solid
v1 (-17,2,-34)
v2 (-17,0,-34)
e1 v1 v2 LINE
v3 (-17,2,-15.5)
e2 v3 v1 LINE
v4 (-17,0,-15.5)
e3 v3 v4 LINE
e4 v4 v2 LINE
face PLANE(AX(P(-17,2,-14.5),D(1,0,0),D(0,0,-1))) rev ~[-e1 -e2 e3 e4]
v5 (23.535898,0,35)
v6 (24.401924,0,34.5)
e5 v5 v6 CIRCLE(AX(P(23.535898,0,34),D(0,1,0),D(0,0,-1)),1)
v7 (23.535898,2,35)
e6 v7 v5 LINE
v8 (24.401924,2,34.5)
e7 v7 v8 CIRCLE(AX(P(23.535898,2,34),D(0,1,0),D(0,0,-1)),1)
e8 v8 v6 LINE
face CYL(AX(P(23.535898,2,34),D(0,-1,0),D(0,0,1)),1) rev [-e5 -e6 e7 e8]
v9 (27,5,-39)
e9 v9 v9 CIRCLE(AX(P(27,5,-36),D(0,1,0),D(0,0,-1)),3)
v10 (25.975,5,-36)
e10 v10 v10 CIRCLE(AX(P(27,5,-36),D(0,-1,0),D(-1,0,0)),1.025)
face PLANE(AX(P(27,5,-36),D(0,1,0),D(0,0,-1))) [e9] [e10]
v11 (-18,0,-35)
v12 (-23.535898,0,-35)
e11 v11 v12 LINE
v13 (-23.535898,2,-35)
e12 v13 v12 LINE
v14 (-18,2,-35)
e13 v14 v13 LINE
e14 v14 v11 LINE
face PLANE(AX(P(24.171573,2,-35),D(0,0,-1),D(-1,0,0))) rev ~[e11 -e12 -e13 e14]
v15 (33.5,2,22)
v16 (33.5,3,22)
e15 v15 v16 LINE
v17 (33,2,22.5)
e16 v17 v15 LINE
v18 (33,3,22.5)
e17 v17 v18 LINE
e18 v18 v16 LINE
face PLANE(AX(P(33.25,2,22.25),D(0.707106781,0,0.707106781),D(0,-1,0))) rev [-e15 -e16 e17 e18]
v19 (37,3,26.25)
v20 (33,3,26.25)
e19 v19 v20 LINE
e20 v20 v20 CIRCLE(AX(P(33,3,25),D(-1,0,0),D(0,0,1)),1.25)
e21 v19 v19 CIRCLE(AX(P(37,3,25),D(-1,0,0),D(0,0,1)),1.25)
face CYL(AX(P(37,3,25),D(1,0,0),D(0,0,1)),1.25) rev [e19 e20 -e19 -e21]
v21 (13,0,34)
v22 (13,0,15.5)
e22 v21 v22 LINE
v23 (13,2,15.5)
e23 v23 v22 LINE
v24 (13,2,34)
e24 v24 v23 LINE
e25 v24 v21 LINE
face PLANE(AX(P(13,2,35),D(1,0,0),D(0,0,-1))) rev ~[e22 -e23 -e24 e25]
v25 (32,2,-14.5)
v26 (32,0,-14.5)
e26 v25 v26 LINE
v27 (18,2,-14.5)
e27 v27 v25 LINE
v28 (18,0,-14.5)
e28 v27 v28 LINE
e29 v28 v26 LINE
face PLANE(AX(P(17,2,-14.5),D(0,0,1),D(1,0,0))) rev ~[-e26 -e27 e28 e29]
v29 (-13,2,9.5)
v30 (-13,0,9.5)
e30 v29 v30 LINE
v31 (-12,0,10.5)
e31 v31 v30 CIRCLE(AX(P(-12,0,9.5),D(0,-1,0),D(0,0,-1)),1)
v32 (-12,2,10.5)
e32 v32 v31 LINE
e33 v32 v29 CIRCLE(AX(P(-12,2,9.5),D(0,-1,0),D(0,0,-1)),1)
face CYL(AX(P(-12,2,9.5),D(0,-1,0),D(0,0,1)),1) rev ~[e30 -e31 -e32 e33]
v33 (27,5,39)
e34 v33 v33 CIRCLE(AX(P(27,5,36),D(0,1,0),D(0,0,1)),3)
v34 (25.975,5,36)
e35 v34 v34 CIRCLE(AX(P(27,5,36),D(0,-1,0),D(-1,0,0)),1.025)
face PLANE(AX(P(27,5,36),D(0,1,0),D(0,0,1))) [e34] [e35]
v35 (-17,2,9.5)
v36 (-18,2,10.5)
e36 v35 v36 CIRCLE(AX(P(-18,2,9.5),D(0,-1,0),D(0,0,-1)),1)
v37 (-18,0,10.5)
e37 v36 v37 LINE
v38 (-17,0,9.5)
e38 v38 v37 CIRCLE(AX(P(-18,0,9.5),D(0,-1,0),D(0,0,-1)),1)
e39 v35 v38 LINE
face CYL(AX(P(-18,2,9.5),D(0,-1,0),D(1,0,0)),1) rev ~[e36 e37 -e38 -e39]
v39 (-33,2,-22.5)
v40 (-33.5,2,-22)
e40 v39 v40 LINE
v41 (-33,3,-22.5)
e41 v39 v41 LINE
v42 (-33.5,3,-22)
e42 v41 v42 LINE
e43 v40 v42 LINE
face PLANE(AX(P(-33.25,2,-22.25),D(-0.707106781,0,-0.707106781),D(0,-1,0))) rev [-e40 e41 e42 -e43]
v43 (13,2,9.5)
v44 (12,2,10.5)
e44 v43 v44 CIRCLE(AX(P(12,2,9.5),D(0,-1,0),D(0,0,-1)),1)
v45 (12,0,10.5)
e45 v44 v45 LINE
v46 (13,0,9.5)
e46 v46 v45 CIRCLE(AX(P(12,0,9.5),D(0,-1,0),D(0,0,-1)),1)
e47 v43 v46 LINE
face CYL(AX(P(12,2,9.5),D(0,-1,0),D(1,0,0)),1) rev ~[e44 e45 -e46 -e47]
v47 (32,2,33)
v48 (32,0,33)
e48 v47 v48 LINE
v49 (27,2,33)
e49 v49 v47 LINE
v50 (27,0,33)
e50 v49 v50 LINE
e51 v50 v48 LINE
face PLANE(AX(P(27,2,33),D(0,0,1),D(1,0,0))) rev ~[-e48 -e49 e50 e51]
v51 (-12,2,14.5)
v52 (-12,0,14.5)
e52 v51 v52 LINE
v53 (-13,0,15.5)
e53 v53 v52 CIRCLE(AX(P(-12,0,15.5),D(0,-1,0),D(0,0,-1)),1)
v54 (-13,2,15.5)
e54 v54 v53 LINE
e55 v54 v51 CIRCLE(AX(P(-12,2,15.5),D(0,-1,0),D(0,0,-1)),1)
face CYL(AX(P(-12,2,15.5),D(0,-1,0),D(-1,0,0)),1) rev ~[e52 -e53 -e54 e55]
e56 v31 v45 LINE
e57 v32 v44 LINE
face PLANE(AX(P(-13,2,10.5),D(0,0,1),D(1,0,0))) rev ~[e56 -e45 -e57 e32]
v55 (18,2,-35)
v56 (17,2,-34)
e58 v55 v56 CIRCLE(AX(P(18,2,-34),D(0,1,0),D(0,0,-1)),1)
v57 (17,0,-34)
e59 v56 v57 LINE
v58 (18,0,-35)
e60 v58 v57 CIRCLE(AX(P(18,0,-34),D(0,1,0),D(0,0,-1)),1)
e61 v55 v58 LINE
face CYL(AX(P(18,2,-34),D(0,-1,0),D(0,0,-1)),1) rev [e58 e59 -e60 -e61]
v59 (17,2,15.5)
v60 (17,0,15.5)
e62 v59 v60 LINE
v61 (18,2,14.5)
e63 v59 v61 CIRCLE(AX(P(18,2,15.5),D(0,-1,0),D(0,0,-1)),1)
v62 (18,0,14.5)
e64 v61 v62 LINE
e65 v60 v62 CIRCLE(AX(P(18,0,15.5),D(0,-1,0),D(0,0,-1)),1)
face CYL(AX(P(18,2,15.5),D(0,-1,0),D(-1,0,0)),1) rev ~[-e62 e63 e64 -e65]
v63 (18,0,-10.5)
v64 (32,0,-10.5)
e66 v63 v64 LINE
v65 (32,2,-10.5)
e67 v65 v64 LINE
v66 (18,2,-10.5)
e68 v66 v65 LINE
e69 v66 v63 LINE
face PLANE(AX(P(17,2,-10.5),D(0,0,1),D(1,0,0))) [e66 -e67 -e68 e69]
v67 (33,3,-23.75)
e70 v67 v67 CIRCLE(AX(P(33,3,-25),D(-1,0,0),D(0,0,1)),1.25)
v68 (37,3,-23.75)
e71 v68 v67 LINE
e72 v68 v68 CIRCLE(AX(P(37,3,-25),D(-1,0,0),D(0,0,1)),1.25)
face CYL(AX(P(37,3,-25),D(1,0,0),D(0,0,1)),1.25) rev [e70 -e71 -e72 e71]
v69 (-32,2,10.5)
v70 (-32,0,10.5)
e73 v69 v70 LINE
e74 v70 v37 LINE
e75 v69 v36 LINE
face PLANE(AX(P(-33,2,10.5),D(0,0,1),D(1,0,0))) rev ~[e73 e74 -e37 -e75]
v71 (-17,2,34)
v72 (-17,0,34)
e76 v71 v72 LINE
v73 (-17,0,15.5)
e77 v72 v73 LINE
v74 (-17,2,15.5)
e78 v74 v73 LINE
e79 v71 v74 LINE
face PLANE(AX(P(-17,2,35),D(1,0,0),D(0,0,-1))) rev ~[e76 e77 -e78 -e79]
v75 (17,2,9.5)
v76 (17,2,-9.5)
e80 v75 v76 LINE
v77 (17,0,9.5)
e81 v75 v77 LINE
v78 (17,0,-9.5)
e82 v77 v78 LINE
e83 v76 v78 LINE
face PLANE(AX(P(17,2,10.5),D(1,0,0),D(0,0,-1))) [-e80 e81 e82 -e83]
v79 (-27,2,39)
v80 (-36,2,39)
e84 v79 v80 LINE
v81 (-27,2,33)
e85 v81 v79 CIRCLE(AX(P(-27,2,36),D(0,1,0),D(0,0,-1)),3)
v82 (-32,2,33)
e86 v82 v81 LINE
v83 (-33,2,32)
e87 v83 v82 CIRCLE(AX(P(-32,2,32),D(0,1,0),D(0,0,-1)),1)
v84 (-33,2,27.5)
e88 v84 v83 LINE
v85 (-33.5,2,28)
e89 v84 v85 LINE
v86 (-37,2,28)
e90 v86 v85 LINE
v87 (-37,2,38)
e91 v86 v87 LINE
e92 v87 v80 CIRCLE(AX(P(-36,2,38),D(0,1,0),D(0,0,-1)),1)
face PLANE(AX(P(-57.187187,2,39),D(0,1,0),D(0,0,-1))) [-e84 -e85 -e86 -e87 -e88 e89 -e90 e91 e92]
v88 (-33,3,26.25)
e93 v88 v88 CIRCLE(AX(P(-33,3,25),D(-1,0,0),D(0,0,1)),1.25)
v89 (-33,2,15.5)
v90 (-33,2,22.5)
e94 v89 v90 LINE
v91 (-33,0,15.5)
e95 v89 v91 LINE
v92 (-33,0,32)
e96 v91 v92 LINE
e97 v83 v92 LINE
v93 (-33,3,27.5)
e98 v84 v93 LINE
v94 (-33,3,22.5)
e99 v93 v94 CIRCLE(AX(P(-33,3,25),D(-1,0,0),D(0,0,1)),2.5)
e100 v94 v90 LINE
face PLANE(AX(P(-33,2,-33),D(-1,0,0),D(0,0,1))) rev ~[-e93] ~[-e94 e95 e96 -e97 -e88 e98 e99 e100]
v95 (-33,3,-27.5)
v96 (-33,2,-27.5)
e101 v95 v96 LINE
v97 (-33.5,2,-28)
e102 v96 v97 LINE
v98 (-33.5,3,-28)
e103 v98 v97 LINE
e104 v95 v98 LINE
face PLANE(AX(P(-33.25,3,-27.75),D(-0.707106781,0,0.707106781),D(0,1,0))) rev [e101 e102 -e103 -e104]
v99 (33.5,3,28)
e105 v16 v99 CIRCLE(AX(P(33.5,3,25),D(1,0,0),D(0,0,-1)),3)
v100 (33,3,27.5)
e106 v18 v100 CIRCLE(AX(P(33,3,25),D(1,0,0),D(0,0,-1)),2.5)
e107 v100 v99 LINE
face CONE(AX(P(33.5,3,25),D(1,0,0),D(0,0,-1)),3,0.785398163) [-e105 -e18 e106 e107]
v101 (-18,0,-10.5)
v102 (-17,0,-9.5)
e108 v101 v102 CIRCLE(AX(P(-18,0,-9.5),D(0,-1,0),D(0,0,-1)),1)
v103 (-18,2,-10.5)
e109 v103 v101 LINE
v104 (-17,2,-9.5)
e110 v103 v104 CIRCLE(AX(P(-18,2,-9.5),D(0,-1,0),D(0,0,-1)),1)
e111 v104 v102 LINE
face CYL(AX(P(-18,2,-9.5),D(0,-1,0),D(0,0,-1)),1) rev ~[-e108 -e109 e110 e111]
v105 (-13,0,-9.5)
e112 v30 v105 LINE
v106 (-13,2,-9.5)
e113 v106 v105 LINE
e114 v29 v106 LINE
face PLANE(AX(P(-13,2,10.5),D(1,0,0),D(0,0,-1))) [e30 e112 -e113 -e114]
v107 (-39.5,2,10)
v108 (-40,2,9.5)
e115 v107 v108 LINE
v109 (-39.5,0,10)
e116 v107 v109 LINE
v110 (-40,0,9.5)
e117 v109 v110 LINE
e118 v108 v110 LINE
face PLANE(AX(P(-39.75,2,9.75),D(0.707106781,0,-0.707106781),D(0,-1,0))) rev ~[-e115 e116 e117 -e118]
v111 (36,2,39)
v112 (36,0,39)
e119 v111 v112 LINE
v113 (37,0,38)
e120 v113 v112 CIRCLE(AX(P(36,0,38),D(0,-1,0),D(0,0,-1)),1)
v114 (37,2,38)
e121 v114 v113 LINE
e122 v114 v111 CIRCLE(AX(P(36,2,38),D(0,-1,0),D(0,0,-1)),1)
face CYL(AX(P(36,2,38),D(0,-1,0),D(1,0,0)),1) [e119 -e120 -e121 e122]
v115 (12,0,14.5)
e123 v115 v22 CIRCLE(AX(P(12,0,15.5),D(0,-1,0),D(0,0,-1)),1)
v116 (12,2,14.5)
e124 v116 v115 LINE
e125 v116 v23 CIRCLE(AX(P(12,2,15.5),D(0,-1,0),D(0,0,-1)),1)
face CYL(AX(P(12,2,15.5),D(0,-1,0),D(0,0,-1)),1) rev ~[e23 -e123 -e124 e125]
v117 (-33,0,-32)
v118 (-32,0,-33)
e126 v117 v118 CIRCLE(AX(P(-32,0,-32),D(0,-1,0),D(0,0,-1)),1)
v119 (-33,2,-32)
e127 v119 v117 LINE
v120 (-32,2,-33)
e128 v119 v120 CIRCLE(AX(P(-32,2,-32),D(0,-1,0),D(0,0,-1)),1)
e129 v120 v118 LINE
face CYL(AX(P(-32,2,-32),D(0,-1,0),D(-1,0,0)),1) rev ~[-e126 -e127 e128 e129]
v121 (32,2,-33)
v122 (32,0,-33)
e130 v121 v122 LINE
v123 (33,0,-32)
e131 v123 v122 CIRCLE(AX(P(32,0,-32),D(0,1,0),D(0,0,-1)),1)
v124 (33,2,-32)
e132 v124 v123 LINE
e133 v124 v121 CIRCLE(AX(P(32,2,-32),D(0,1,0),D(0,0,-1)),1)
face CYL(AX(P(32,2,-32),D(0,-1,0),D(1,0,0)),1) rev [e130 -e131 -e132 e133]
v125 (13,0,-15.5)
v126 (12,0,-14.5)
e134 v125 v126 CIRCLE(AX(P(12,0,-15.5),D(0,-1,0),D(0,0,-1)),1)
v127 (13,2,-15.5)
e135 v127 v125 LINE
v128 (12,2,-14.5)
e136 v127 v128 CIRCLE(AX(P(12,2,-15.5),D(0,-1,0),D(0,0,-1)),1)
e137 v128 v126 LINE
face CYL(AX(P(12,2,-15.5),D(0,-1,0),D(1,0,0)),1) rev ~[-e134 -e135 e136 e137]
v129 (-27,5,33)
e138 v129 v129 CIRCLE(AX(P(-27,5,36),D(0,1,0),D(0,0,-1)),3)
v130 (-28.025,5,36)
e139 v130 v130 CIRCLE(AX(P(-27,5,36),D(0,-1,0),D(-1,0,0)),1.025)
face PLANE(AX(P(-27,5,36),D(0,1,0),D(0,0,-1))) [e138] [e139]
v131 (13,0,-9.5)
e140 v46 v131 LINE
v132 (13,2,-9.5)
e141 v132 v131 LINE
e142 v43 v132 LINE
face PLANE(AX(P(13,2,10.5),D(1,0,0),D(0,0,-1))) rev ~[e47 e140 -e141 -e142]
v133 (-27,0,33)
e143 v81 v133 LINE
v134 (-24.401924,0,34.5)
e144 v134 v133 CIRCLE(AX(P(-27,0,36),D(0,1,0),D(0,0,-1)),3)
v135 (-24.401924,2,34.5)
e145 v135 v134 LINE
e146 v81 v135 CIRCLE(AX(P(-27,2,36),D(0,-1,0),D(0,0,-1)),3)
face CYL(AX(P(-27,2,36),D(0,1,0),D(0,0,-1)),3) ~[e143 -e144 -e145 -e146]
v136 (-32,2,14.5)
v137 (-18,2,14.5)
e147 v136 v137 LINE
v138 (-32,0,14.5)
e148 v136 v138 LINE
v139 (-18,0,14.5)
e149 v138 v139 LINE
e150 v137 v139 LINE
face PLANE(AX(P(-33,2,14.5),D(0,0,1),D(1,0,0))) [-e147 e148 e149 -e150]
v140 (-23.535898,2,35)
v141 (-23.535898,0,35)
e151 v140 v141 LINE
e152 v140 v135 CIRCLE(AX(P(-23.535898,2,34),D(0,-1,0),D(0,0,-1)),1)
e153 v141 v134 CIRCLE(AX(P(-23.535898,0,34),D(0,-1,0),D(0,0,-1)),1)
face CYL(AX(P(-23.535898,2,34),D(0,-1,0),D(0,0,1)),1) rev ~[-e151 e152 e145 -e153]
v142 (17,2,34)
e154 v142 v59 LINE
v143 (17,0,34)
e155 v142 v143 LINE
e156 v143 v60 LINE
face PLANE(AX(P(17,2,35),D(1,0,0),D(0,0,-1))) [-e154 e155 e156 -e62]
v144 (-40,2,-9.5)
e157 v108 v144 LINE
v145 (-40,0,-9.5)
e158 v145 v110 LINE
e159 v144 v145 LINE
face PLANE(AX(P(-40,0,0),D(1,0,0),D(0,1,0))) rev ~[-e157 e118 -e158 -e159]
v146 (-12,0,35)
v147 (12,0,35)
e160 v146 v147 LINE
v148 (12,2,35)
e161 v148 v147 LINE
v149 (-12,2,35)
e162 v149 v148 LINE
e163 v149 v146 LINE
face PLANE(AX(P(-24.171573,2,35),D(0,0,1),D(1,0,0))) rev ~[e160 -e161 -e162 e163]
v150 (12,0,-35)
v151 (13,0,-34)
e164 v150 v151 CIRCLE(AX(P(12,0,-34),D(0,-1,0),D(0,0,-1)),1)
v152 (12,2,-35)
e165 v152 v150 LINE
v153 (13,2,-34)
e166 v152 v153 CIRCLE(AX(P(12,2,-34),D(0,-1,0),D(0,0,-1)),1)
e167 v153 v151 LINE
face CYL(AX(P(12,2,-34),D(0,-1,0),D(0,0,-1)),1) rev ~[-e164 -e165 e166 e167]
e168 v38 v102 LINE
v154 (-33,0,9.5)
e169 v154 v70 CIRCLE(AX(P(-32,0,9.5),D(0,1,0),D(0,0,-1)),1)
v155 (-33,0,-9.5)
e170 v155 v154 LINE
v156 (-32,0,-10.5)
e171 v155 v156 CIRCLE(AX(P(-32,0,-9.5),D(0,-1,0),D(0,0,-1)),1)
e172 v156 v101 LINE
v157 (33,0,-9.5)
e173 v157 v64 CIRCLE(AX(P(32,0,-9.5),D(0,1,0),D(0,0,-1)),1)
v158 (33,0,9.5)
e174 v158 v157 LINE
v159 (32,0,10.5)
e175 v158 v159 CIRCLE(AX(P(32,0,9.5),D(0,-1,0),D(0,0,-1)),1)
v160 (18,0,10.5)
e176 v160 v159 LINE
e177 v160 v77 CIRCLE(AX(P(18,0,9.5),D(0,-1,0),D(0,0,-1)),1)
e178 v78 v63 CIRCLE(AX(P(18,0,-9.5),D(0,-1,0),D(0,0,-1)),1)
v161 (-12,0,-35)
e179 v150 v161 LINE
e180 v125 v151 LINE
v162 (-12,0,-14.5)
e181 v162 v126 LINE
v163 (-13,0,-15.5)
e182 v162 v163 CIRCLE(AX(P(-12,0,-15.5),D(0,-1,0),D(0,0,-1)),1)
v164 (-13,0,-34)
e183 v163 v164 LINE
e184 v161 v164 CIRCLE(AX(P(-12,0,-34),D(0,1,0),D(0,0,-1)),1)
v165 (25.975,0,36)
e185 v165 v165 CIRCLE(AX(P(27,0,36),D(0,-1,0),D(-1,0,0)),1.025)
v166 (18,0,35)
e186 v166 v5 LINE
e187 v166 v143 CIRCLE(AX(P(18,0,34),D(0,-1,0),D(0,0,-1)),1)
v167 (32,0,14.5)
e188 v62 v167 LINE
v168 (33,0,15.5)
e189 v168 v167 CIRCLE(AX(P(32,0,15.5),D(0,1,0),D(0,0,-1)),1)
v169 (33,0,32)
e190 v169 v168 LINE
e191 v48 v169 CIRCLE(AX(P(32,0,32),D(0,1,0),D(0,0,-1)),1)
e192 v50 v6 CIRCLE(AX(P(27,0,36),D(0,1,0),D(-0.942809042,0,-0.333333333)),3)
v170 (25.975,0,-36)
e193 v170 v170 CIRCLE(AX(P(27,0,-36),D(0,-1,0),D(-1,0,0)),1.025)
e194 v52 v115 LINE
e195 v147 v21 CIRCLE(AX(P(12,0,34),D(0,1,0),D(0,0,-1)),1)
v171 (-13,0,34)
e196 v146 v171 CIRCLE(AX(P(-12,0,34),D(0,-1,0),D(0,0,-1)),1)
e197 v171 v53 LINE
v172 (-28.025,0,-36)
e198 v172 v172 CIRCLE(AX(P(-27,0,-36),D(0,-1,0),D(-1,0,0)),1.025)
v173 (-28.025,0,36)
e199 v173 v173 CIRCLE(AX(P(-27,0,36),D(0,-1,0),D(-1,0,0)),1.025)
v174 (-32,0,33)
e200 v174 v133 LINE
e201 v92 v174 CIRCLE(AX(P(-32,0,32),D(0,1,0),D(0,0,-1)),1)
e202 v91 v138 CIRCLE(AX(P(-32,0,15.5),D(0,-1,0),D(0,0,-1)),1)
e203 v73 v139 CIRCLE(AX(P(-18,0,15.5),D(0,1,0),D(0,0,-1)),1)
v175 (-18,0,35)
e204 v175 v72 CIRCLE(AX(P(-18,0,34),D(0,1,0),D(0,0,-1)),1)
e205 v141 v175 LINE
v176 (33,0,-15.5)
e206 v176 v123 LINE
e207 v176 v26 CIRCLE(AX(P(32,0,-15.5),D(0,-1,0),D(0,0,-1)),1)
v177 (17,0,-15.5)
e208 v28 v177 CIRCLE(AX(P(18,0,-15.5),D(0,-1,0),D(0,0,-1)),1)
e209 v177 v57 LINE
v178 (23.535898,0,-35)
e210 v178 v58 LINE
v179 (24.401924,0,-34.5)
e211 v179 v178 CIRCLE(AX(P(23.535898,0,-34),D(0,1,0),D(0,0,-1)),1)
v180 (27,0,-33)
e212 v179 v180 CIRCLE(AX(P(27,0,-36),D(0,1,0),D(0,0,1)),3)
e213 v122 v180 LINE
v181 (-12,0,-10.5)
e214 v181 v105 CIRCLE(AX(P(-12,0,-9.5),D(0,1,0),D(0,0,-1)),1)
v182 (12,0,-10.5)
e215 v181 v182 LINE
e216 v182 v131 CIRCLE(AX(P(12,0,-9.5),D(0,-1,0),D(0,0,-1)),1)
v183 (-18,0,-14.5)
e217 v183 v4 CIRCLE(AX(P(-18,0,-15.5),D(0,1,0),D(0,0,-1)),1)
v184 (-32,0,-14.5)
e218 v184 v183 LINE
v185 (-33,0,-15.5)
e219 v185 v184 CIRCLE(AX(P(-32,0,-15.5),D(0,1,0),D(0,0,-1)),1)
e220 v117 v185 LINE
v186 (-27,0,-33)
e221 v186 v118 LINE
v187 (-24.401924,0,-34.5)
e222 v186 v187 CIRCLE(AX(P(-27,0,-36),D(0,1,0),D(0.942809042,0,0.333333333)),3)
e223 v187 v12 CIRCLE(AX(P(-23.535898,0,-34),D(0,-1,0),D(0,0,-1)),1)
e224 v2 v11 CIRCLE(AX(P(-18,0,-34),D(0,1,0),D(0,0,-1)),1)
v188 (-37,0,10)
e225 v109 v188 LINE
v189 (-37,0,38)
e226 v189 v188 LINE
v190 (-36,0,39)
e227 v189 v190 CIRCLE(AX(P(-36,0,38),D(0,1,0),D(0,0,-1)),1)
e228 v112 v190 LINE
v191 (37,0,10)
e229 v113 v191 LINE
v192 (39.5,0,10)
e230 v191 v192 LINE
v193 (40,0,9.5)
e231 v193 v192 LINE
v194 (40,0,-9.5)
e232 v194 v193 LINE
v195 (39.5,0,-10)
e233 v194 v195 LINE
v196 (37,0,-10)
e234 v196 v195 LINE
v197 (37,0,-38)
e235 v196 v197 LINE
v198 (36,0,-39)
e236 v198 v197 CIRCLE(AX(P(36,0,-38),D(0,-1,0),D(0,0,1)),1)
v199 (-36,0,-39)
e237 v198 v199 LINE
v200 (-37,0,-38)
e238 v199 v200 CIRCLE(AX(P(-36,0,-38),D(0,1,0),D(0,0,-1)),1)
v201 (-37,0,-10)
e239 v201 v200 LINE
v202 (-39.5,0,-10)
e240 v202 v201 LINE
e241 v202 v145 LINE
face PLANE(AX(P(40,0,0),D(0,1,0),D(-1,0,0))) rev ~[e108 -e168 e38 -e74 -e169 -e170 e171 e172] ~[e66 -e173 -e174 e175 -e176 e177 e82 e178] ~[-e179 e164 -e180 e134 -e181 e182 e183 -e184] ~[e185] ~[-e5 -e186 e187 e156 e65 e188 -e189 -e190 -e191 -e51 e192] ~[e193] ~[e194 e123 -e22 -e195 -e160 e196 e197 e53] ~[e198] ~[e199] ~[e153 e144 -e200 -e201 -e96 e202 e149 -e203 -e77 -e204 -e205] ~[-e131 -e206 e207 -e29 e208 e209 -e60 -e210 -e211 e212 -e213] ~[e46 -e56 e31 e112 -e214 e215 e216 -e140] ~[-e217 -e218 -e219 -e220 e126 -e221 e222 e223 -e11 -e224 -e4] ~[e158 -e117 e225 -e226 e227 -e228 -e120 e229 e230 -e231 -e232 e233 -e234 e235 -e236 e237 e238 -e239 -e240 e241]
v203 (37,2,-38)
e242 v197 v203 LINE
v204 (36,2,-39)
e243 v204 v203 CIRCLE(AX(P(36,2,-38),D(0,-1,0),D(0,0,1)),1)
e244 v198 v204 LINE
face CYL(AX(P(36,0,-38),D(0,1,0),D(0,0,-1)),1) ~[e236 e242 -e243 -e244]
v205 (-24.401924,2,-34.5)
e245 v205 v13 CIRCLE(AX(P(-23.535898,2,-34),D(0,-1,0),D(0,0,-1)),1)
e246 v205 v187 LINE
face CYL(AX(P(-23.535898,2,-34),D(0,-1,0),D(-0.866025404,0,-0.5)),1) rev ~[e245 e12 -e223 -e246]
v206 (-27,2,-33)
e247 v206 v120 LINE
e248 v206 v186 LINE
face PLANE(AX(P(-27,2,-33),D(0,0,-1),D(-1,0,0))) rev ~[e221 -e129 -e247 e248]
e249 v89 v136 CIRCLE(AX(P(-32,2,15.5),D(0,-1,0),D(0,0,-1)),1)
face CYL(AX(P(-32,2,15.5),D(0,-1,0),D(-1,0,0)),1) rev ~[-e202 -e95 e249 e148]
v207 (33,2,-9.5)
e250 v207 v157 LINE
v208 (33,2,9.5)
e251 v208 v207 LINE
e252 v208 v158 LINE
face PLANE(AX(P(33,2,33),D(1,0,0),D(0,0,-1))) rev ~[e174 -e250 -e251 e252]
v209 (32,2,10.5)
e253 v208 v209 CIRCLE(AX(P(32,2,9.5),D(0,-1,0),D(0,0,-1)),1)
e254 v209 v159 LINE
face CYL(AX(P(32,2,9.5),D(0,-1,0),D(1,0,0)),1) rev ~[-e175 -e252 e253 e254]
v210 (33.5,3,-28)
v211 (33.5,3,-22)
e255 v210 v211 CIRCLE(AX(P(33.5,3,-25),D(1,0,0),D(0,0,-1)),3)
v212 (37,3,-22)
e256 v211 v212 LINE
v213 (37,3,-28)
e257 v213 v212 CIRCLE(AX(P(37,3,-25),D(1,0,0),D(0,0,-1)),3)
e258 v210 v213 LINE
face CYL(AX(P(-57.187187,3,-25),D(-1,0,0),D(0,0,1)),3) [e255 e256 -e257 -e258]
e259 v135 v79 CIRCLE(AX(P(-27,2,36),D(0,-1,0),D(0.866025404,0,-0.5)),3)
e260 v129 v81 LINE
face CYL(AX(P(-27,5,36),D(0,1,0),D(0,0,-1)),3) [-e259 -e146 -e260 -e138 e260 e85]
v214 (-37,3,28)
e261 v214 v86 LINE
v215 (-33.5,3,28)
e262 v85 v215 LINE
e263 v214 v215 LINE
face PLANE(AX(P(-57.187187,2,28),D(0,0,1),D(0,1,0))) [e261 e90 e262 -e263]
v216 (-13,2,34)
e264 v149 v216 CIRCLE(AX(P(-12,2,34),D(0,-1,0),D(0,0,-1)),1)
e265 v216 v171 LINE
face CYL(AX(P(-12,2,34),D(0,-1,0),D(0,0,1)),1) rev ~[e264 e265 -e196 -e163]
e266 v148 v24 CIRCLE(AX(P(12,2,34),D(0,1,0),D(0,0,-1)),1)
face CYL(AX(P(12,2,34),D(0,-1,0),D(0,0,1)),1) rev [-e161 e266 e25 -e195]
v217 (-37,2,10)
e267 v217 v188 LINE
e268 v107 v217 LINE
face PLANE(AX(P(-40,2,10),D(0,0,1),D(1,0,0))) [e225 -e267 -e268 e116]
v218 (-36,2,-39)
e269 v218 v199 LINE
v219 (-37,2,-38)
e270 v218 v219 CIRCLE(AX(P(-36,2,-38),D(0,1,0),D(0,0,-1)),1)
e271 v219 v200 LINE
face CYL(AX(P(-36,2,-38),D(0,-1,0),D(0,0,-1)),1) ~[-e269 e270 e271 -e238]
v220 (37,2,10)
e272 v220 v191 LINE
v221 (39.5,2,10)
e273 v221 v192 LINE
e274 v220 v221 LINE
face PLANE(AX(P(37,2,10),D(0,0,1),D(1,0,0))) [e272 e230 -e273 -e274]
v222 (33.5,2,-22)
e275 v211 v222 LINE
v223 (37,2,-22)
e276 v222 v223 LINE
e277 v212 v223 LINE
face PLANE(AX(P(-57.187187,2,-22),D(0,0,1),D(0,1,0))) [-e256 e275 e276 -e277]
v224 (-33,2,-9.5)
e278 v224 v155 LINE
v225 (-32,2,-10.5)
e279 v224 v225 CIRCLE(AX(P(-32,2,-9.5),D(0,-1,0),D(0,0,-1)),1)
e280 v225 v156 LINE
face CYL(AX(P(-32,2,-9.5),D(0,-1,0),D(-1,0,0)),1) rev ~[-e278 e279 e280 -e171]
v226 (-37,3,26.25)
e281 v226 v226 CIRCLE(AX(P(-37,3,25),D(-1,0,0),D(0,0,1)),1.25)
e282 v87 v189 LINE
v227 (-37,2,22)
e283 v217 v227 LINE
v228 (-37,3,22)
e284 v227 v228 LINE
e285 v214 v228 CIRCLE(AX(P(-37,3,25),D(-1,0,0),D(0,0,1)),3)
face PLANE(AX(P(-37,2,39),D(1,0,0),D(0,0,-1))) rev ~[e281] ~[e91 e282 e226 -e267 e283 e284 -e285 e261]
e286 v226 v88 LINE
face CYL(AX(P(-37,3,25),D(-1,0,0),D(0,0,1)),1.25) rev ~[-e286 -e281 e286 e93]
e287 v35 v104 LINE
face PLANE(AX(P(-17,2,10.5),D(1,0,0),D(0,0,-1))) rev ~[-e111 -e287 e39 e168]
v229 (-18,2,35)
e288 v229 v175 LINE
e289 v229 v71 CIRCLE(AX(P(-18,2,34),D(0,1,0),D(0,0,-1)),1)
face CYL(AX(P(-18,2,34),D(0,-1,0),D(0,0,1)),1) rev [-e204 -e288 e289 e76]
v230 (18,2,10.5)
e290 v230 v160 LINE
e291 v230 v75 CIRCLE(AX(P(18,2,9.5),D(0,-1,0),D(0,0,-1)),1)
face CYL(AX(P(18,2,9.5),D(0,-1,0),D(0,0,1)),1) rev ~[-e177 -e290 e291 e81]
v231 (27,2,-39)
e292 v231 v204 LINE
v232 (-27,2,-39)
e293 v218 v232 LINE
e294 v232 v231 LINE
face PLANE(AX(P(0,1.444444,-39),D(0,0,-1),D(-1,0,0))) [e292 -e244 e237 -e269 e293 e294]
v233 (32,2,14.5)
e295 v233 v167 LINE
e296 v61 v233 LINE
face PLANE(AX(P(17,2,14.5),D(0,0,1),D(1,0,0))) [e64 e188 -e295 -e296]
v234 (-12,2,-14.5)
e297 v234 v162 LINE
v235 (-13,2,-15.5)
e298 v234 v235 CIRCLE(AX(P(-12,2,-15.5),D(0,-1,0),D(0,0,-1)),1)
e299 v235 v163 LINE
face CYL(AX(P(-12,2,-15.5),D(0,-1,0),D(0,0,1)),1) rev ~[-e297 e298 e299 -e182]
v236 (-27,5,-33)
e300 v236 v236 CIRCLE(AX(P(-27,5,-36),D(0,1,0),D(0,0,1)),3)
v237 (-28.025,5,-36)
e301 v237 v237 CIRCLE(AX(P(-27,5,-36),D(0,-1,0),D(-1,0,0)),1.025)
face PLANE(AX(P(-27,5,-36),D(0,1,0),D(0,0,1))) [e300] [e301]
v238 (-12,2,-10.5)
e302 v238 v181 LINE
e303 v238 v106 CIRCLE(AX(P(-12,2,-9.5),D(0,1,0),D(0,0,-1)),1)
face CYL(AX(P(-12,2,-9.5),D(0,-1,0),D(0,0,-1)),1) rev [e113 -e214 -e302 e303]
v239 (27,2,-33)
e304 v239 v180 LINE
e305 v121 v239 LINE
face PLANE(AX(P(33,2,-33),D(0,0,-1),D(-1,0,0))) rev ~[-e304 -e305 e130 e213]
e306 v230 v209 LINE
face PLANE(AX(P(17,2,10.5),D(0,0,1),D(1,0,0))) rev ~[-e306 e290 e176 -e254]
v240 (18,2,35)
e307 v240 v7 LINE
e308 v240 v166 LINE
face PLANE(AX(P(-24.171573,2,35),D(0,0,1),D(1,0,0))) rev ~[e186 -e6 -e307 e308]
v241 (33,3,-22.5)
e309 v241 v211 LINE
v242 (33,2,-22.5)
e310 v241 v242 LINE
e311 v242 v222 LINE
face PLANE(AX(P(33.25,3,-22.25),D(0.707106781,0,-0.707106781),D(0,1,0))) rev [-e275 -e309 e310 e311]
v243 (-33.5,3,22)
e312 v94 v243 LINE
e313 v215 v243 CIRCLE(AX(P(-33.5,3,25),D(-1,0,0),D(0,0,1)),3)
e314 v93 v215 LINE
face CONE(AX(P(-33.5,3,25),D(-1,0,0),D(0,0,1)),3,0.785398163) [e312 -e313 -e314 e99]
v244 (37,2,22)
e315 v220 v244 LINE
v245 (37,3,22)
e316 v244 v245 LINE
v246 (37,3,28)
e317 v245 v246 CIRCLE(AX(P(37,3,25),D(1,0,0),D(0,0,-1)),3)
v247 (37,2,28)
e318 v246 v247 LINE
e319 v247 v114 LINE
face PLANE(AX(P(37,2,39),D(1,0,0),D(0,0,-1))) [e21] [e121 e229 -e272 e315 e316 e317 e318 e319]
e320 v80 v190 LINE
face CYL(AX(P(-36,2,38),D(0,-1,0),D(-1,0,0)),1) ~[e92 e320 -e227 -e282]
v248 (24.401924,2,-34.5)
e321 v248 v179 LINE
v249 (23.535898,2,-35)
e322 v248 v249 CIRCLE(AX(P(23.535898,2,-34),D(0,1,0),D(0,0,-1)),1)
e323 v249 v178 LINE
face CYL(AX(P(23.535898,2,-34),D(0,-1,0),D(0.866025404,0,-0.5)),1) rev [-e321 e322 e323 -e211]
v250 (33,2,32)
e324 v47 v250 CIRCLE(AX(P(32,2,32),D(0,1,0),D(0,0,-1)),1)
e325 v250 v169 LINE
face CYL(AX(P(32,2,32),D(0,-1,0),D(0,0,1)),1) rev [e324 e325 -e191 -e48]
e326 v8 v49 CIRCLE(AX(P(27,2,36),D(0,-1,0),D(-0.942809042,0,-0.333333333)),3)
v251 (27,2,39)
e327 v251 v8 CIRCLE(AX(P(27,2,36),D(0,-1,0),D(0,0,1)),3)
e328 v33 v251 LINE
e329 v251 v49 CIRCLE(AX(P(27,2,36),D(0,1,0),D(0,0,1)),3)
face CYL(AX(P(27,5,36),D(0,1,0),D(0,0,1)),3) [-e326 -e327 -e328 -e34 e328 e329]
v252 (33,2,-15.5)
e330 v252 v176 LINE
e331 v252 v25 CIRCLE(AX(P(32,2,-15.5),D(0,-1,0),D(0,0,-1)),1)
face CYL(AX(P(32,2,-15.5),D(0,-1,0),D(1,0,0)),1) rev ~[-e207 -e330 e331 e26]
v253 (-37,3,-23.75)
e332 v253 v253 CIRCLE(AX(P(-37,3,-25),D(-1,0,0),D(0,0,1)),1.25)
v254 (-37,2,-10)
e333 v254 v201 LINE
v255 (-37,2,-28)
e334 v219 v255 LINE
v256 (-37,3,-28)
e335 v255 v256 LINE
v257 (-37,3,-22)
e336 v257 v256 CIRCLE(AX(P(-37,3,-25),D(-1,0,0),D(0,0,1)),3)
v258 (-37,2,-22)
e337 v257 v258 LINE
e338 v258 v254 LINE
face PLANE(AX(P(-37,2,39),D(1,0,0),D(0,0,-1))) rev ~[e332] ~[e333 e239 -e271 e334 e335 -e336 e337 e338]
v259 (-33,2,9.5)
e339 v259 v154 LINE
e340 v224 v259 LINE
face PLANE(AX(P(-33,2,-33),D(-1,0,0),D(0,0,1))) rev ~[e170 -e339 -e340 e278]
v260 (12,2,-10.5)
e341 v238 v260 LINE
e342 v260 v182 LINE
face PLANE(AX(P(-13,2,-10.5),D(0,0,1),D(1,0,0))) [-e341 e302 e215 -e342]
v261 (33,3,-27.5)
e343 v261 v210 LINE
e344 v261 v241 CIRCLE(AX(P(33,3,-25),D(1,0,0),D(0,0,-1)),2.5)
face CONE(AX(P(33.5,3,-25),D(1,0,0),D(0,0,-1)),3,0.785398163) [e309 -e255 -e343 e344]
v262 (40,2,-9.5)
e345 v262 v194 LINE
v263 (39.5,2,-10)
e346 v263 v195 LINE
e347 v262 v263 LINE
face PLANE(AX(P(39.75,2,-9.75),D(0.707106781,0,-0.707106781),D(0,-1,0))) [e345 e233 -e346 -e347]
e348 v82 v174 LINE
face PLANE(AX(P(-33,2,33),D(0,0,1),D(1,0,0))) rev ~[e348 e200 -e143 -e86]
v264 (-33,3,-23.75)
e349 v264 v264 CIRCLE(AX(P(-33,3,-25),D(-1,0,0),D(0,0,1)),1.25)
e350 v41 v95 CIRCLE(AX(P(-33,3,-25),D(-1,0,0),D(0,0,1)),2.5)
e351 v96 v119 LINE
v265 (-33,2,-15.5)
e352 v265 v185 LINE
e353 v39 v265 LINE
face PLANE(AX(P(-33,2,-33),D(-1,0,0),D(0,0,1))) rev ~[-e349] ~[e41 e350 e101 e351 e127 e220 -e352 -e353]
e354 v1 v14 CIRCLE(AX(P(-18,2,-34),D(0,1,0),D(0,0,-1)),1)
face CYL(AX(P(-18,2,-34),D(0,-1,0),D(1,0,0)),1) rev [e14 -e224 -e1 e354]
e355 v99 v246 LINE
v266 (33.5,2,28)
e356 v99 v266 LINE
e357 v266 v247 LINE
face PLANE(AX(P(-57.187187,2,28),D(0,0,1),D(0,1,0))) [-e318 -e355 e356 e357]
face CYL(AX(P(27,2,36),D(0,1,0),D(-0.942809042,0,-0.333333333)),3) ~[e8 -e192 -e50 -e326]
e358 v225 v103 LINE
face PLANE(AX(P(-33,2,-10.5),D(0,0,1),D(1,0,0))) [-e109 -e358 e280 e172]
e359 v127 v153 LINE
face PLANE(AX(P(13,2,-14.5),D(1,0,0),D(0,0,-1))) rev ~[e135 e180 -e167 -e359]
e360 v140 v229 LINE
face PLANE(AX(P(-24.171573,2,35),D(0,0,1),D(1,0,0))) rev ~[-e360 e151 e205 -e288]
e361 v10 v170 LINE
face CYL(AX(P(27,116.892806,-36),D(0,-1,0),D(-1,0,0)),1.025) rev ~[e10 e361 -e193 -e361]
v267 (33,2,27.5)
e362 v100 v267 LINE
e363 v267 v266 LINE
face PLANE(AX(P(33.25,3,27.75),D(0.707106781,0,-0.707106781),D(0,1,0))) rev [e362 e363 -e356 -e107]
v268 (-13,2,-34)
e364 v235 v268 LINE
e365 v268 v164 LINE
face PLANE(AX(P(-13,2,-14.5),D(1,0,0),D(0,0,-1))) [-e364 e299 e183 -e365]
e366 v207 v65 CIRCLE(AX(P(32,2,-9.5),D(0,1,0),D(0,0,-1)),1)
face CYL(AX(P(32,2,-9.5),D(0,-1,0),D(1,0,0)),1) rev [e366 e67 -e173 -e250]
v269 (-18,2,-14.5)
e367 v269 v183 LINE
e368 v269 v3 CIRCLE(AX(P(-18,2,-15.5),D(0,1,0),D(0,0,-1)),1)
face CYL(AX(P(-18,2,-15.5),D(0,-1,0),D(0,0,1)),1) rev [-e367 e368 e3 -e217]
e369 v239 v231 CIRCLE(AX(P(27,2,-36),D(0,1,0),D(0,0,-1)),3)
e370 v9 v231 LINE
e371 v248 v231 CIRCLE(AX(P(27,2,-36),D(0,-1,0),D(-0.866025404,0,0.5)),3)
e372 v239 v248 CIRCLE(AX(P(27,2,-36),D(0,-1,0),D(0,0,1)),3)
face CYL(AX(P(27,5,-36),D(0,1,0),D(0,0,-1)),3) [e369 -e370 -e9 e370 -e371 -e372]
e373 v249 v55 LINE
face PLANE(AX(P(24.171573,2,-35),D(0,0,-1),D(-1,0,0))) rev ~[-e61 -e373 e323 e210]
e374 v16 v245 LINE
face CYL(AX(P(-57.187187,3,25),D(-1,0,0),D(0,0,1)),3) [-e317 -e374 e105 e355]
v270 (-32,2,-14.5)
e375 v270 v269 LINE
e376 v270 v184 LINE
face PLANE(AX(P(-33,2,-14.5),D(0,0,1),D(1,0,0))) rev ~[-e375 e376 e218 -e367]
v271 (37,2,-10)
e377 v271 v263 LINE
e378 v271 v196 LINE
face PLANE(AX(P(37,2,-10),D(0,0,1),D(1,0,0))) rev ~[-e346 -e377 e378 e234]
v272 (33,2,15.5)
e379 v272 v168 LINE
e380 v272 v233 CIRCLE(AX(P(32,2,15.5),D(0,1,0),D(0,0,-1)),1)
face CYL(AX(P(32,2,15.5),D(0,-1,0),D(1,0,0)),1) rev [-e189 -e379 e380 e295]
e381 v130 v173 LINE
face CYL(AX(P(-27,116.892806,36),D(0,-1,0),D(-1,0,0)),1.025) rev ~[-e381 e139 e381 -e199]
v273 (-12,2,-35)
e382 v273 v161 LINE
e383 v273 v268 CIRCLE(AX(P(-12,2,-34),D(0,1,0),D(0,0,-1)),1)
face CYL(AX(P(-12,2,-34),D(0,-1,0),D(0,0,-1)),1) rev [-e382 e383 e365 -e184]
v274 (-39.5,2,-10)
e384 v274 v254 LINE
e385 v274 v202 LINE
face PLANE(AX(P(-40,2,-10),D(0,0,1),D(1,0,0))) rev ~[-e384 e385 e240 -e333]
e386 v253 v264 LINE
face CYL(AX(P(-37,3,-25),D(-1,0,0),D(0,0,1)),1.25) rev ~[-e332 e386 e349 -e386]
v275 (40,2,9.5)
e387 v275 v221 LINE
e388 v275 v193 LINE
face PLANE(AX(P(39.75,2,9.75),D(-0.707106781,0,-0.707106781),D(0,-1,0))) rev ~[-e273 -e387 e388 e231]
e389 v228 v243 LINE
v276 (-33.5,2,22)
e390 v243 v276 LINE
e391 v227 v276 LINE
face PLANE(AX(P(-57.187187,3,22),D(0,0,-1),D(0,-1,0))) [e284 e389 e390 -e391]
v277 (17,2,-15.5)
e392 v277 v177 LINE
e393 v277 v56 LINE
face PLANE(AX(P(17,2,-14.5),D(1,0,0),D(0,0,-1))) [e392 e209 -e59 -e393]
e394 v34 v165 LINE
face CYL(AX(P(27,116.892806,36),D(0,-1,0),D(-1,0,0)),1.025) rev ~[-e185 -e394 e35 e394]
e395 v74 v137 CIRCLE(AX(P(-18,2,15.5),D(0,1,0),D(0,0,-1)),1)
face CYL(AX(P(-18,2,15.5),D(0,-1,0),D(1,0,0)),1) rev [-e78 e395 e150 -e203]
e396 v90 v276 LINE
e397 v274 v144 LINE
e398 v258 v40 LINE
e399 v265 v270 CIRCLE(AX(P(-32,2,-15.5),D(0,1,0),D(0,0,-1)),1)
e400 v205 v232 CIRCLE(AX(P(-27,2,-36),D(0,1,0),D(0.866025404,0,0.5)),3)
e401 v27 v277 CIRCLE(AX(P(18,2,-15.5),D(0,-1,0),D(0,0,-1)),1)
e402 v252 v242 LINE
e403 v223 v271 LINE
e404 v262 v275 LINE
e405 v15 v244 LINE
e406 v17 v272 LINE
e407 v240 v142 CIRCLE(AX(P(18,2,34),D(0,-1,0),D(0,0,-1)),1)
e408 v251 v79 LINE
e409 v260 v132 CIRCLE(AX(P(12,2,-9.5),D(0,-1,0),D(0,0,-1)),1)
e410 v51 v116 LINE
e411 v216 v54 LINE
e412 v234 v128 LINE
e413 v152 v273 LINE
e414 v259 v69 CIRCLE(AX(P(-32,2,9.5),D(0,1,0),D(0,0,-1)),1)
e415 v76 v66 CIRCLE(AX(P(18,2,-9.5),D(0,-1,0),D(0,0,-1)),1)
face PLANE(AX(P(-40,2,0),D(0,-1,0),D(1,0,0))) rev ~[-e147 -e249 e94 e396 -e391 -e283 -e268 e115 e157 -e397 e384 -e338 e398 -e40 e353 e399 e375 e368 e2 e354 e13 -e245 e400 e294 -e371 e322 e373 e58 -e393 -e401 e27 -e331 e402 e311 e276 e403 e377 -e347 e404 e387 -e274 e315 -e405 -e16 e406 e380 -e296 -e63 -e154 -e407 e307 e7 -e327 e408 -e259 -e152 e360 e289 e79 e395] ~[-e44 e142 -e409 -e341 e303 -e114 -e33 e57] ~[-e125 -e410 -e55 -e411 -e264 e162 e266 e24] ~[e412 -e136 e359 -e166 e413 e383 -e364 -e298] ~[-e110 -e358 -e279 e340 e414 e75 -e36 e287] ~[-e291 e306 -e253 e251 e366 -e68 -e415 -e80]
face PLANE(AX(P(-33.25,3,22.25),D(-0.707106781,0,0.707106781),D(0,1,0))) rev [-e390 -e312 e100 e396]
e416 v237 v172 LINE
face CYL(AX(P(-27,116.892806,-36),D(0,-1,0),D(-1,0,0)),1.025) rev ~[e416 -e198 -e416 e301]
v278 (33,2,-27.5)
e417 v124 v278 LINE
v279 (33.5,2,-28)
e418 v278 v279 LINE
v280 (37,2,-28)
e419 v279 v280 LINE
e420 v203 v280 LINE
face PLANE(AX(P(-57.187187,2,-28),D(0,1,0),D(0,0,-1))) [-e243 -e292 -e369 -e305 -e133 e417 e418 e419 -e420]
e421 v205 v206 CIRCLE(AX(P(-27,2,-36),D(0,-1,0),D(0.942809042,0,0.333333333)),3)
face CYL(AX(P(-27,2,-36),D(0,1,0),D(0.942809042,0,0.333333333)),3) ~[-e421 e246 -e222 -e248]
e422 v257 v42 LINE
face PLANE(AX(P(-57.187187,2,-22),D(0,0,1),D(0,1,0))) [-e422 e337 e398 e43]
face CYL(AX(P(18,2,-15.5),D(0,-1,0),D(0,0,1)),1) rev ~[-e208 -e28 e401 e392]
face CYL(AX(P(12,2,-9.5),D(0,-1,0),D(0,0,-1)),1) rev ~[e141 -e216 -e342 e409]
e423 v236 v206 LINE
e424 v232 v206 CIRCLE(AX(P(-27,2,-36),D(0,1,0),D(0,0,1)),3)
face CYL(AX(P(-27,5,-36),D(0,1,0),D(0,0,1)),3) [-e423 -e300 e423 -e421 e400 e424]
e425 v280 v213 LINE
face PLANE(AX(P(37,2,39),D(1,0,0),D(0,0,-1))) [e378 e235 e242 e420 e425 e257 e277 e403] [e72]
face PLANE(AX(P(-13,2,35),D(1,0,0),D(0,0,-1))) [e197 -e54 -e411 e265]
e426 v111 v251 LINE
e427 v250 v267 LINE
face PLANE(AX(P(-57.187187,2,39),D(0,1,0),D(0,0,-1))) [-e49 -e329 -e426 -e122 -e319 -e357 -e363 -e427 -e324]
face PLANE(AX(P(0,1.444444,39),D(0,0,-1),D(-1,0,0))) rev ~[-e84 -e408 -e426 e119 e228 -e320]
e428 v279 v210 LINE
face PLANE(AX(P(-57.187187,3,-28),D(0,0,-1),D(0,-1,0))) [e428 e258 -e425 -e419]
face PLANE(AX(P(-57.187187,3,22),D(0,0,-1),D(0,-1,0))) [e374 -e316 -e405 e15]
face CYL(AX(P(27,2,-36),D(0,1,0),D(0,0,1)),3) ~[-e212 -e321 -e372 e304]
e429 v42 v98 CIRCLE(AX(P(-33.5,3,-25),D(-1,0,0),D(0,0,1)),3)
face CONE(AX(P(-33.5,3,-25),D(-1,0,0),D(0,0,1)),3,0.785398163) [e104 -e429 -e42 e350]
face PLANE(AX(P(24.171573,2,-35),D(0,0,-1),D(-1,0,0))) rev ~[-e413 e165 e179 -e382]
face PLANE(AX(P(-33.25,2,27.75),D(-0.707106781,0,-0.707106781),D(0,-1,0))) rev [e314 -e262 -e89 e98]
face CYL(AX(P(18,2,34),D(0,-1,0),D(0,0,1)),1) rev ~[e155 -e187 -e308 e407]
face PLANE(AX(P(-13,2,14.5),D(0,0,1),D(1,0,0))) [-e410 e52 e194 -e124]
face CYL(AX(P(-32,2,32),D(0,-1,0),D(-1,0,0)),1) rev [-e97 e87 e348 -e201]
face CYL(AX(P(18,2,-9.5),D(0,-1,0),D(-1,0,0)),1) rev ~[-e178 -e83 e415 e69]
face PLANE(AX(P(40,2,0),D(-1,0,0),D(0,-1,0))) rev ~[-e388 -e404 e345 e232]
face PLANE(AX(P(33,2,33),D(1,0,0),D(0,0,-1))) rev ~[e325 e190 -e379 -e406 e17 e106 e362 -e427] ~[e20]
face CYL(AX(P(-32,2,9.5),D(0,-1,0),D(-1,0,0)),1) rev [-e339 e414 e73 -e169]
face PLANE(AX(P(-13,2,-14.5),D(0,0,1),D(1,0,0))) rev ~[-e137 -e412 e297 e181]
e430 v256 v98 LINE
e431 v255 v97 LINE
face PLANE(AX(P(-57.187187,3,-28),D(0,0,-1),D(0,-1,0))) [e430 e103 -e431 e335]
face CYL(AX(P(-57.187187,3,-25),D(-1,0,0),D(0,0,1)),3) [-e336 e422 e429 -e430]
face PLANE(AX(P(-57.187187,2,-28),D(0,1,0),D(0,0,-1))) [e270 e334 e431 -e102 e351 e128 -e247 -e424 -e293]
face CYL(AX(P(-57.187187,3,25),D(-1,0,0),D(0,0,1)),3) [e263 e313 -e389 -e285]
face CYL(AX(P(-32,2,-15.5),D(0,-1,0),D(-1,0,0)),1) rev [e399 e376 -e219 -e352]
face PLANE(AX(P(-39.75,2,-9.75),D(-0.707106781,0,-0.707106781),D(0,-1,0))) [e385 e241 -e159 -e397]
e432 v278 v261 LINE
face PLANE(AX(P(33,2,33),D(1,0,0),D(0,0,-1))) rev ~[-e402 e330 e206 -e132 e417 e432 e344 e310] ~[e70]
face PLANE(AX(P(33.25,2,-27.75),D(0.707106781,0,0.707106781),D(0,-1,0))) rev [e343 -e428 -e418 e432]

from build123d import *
from build123d.topology import SkipClean

# Parameters (mm, degrees)
EXTRUDE_1_DEPTH          = 39
SKETCH_2_W               = 3
SKETCH_2_H               = 29
CUT_EXTRUDE_1_DEPTH      = 57.00892786
CUT_EXTRUDE_2_DEPTH      = 57.187187152
CUT_EXTRUDE_2_DEPTH_BACK = 57.187187152
EXTRUDE_START            = 3
SKETCH_4_R               = 3
EXTRUDE_2_DEPTH          = 3
HOLE_WIZARD_M3_1_REACH   = 88.522
HOLE_WIZARD_M3_1_BORE_R  = 1.25
HOLE_WIZARD_M2_5_1_D     = 2.05
CHAMFER_1_SIZE           = 0.5
SKETCH_10_W              = 4
SKETCH_10_H              = 70
SKETCH_10_W_2            = 66
SKETCH_10_H_2            = 4
EXTRUDE_1_2_DEPTH        = 2
FILLET_1_R               = 1


with BuildPart() as part:
    # 草图1 → Extrude 1 (new, symmetric)
    with BuildSketch(Plane.XY):
        Polygon((-40, 0), (-40, 2), (-37, 2), (-37, 6), (-33, 6), (-33, 2), (33, 2), (33, 6), (37, 6), (37, 2), (40, 2), (40, 0), align=None)
    extrude(amount=EXTRUDE_1_DEPTH, both=True)

    # 草图2 → 切除-拉伸1 (cut, through all)
    with BuildSketch(Plane(origin=(0, 2, 0), x_dir=(1, 0, 0), z_dir=(0, 1, 0))):
        with Locations((-38.5, 24.5)):
            Rectangle(SKETCH_2_W, SKETCH_2_H)
        with BuildLine():
            Line((-24.171572875, -35), (24.171572875, -35))
            ThreePointArc((24.171572875, -35), (25.267949192, -33.550510257), (27, -33))
            Line((27, -33), (33, -33))
            Line((33, -33), (33, 33))
            Line((33, 33), (27, 33))
            ThreePointArc((27, 33), (25.267949192, 33.550510257), (24.171572875, 35))
            Line((24.171572875, 35), (-24.171572875, 35))
            ThreePointArc((-24.171572875, 35), (-25.267949192, 33.550510257), (-27, 33))
            Line((-27, 33), (-33, 33))
            Line((-33, 33), (-33, -33))
            Line((-33, -33), (-27, -33))
            ThreePointArc((-27, -33), (-25.267949192, -33.550510257), (-24.171572875, -35))
        make_face()
        with Locations((-38.5, -24.5)):
            Rectangle(SKETCH_2_W, SKETCH_2_H)
        with Locations((38.5, -24.5)):
            Rectangle(SKETCH_2_W, SKETCH_2_H)
        with Locations((38.5, 24.5)):
            Rectangle(SKETCH_2_W, SKETCH_2_H)
    extrude(amount=-CUT_EXTRUDE_1_DEPTH, mode=Mode.SUBTRACT)

    # 草图3 → 切除-拉伸2 (cut, two sides: drawn at the far end of the back side and taken through both)
    with BuildSketch(Plane(origin=(0, 0, 0), x_dir=(0, 0, -1), z_dir=(1, 0, 0)).offset(-CUT_EXTRUDE_2_DEPTH_BACK)):
        with BuildLine():
            Line((-22, 2), (22, 2))
            Line((22, 2), (22, 3))
            ThreePointArc((22, 3), (25, 6), (28, 3))
            Line((28, 3), (28, 2))
            Line((28, 2), (39, 2))
            Line((39, 2), (39, 7))
            Line((39, 7), (-39, 7))
            Line((-39, 7), (-39, 2))
            Line((-39, 2), (-28, 2))
            Line((-28, 2), (-28, 3))
            ThreePointArc((-28, 3), (-25, 6), (-22, 3))
            Line((-22, 3), (-22, 2))
        make_face()
    extrude(amount=CUT_EXTRUDE_2_DEPTH + CUT_EXTRUDE_2_DEPTH_BACK, mode=Mode.SUBTRACT)

    # 草图4 → 凸台-拉伸2 (add)
    with SkipClean():  # the faces are left unmerged after this step: merging them gives an invalid solid
        with BuildSketch(Plane(origin=(0, 2, 0), x_dir=(1, 0, 0), z_dir=(0, 1, 0)).offset(EXTRUDE_START)):
            with Locations(Location((-27, 36, 0), (0, 0, 270))):
                Circle(SKETCH_4_R)
            with Locations(Location((-27, -36, 0), (0, 0, 90))):
                Circle(SKETCH_4_R)
            with Locations(Location((27, -36, 0), (0, 0, 270))):
                Circle(SKETCH_4_R)
            with Locations(Location((27, 36, 0), (0, 0, 90))):
                Circle(SKETCH_4_R)
        extrude(amount=-EXTRUDE_2_DEPTH)

    # M3 螺纹孔1 bore → M3 螺纹孔1 (cut, up to next)
    with BuildSketch(Plane.ZY.offset(37), mode=Mode.PRIVATE) as hole_wizard_m3_1_sk1:
        with Locations((-25, 3)):
            Circle(HOLE_WIZARD_M3_1_BORE_R)
    hole_wizard_m3_1_tool1 = extrude(hole_wizard_m3_1_sk1.sketch, amount=-HOLE_WIZARD_M3_1_REACH, mode=Mode.PRIVATE) & part.part
    # M3 螺纹孔1 bore → M3 螺纹孔1 (cut, up to next)
    with BuildSketch(Plane.ZY.offset(37), mode=Mode.PRIVATE) as hole_wizard_m3_1_sk2:
        with Locations((25, 3)):
            Circle(HOLE_WIZARD_M3_1_BORE_R)
    hole_wizard_m3_1_tool2 = extrude(hole_wizard_m3_1_sk2.sketch, amount=-HOLE_WIZARD_M3_1_REACH, mode=Mode.PRIVATE) & part.part
    hole_wizard_m3_1_1 = hole_wizard_m3_1_tool1.solids().sort_by_distance((-37, 3, -25))[0]
    add(hole_wizard_m3_1_1, mode=Mode.SUBTRACT)
    hole_wizard_m3_1_2 = hole_wizard_m3_1_tool2.solids().sort_by_distance((-37, 3, 25))[0]
    add(hole_wizard_m3_1_2, mode=Mode.SUBTRACT)
    hole_wizard_m3_1 = hole_wizard_m3_1_1 + hole_wizard_m3_1_2  # M3 螺纹孔1 as one shape, for the pattern or mirror that repeats it

    # M2.5 螺纹孔1 (through all)
    with Locations(Plane(origin=(0, 5, 0), x_dir=(1, 0, 0), z_dir=(0, 1, 0))):
        with Locations((-27, 36), (27, 36), (-27, -36), (27, -36)):
            Hole(HOLE_WIZARD_M2_5_1_D / 2)

    # 镜向1: M3 螺纹孔1 across plane
    add(hole_wizard_m3_1.mirror(Plane(origin=(0, 0, 0), x_dir=(0, 0, 1), z_dir=(1, 0, 0))), mode=Mode.SUBTRACT)

    # 倒角1
    chamfer_1_edges = [part.edges().sort_by_distance(p)[0] for p in [
        (33, 2.5, -28),
        (-33, 2.5, -28),
        (33, 6, -25),
        (-33, 6, -25),
        (33, 2.5, -22),
        (-33, 2.5, -22),
        (33, 2.5, 22),
        (-33, 2.5, 22),
        (33, 6, 25),
        (-33, 6, 25),
        (33, 2.5, 28),
        (-33, 2.5, 28),
        (40, 1, -10),
        (40, 1, 10),
        (-40, 1, -10),
        (-40, 1, 10),
    ]]
    chamfer(chamfer_1_edges, length=CHAMFER_1_SIZE)

    # 草图10 → Extrude 1 2 (add)
    with BuildSketch(Plane(origin=(0, 2, 0), x_dir=(1, 0, 0), z_dir=(0, 1, 0))):
        with Locations((-15, 0)):
            Rectangle(SKETCH_10_W, SKETCH_10_H)
        with Locations((0, 12.5)):
            Rectangle(SKETCH_10_W_2, SKETCH_10_H_2)
        with Locations((0, -12.5)):
            Rectangle(SKETCH_10_W_2, SKETCH_10_H_2)
        with Locations((15, 0)):
            Rectangle(SKETCH_10_W, SKETCH_10_H)
    extrude(amount=-EXTRUDE_1_2_DEPTH)

    # 圆角1
    fillet_1_edges = [part.edges().sort_by_distance(p)[0] for p in [
        (37, 1, 39),
        (-37, 1, -39),
        (-37, 1, 39),
        (37, 1, -39),
        (-13, 1, -35),
        (-13, 1, -10.5),
        (-17, 1, -14.5),
        (-17, 1, 10.5),
        (-13, 1, 35),
        (-13, 1, 14.5),
        (-17, 1, -35),
        (-17, 1, 35),
        (-33, 1, 14.5),
        (-33, 1, 10.5),
        (-17, 1, 14.5),
        (-33, 1, -10.5),
        (-17, 1, -10.5),
        (-33, 1, -14.5),
        (-13, 1, -14.5),
        (13, 1, -14.5),
        (-13, 1, 10.5),
        (13, 1, 10.5),
        (17, 1, -10.5),
        (33, 1, -10.5),
        (33, 1, -14.5),
        (13, 1, 14.5),
        (13, 1, 35),
        (17, 1, 35),
        (17, 1, 14.5),
        (33, 1, 14.5),
        (33, 1, 10.5),
        (13, 1, -10.5),
        (17, 1, 10.5),
        (17, 1, -14.5),
        (17, 1, -35),
        (13, 1, -35),
        (-24.171572875, 1, 35),
        (-33, 1, 33),
        (-33, 1, -33),
        (-24.171572875, 1, -35),
        (24.171572875, 1, -35),
        (33, 1, -33),
        (33, 1, 33),
        (24.171572875, 1, 35),
    ]]
    fillet(fillet_1_edges, radius=FILLET_1_R)


solid = part.part
